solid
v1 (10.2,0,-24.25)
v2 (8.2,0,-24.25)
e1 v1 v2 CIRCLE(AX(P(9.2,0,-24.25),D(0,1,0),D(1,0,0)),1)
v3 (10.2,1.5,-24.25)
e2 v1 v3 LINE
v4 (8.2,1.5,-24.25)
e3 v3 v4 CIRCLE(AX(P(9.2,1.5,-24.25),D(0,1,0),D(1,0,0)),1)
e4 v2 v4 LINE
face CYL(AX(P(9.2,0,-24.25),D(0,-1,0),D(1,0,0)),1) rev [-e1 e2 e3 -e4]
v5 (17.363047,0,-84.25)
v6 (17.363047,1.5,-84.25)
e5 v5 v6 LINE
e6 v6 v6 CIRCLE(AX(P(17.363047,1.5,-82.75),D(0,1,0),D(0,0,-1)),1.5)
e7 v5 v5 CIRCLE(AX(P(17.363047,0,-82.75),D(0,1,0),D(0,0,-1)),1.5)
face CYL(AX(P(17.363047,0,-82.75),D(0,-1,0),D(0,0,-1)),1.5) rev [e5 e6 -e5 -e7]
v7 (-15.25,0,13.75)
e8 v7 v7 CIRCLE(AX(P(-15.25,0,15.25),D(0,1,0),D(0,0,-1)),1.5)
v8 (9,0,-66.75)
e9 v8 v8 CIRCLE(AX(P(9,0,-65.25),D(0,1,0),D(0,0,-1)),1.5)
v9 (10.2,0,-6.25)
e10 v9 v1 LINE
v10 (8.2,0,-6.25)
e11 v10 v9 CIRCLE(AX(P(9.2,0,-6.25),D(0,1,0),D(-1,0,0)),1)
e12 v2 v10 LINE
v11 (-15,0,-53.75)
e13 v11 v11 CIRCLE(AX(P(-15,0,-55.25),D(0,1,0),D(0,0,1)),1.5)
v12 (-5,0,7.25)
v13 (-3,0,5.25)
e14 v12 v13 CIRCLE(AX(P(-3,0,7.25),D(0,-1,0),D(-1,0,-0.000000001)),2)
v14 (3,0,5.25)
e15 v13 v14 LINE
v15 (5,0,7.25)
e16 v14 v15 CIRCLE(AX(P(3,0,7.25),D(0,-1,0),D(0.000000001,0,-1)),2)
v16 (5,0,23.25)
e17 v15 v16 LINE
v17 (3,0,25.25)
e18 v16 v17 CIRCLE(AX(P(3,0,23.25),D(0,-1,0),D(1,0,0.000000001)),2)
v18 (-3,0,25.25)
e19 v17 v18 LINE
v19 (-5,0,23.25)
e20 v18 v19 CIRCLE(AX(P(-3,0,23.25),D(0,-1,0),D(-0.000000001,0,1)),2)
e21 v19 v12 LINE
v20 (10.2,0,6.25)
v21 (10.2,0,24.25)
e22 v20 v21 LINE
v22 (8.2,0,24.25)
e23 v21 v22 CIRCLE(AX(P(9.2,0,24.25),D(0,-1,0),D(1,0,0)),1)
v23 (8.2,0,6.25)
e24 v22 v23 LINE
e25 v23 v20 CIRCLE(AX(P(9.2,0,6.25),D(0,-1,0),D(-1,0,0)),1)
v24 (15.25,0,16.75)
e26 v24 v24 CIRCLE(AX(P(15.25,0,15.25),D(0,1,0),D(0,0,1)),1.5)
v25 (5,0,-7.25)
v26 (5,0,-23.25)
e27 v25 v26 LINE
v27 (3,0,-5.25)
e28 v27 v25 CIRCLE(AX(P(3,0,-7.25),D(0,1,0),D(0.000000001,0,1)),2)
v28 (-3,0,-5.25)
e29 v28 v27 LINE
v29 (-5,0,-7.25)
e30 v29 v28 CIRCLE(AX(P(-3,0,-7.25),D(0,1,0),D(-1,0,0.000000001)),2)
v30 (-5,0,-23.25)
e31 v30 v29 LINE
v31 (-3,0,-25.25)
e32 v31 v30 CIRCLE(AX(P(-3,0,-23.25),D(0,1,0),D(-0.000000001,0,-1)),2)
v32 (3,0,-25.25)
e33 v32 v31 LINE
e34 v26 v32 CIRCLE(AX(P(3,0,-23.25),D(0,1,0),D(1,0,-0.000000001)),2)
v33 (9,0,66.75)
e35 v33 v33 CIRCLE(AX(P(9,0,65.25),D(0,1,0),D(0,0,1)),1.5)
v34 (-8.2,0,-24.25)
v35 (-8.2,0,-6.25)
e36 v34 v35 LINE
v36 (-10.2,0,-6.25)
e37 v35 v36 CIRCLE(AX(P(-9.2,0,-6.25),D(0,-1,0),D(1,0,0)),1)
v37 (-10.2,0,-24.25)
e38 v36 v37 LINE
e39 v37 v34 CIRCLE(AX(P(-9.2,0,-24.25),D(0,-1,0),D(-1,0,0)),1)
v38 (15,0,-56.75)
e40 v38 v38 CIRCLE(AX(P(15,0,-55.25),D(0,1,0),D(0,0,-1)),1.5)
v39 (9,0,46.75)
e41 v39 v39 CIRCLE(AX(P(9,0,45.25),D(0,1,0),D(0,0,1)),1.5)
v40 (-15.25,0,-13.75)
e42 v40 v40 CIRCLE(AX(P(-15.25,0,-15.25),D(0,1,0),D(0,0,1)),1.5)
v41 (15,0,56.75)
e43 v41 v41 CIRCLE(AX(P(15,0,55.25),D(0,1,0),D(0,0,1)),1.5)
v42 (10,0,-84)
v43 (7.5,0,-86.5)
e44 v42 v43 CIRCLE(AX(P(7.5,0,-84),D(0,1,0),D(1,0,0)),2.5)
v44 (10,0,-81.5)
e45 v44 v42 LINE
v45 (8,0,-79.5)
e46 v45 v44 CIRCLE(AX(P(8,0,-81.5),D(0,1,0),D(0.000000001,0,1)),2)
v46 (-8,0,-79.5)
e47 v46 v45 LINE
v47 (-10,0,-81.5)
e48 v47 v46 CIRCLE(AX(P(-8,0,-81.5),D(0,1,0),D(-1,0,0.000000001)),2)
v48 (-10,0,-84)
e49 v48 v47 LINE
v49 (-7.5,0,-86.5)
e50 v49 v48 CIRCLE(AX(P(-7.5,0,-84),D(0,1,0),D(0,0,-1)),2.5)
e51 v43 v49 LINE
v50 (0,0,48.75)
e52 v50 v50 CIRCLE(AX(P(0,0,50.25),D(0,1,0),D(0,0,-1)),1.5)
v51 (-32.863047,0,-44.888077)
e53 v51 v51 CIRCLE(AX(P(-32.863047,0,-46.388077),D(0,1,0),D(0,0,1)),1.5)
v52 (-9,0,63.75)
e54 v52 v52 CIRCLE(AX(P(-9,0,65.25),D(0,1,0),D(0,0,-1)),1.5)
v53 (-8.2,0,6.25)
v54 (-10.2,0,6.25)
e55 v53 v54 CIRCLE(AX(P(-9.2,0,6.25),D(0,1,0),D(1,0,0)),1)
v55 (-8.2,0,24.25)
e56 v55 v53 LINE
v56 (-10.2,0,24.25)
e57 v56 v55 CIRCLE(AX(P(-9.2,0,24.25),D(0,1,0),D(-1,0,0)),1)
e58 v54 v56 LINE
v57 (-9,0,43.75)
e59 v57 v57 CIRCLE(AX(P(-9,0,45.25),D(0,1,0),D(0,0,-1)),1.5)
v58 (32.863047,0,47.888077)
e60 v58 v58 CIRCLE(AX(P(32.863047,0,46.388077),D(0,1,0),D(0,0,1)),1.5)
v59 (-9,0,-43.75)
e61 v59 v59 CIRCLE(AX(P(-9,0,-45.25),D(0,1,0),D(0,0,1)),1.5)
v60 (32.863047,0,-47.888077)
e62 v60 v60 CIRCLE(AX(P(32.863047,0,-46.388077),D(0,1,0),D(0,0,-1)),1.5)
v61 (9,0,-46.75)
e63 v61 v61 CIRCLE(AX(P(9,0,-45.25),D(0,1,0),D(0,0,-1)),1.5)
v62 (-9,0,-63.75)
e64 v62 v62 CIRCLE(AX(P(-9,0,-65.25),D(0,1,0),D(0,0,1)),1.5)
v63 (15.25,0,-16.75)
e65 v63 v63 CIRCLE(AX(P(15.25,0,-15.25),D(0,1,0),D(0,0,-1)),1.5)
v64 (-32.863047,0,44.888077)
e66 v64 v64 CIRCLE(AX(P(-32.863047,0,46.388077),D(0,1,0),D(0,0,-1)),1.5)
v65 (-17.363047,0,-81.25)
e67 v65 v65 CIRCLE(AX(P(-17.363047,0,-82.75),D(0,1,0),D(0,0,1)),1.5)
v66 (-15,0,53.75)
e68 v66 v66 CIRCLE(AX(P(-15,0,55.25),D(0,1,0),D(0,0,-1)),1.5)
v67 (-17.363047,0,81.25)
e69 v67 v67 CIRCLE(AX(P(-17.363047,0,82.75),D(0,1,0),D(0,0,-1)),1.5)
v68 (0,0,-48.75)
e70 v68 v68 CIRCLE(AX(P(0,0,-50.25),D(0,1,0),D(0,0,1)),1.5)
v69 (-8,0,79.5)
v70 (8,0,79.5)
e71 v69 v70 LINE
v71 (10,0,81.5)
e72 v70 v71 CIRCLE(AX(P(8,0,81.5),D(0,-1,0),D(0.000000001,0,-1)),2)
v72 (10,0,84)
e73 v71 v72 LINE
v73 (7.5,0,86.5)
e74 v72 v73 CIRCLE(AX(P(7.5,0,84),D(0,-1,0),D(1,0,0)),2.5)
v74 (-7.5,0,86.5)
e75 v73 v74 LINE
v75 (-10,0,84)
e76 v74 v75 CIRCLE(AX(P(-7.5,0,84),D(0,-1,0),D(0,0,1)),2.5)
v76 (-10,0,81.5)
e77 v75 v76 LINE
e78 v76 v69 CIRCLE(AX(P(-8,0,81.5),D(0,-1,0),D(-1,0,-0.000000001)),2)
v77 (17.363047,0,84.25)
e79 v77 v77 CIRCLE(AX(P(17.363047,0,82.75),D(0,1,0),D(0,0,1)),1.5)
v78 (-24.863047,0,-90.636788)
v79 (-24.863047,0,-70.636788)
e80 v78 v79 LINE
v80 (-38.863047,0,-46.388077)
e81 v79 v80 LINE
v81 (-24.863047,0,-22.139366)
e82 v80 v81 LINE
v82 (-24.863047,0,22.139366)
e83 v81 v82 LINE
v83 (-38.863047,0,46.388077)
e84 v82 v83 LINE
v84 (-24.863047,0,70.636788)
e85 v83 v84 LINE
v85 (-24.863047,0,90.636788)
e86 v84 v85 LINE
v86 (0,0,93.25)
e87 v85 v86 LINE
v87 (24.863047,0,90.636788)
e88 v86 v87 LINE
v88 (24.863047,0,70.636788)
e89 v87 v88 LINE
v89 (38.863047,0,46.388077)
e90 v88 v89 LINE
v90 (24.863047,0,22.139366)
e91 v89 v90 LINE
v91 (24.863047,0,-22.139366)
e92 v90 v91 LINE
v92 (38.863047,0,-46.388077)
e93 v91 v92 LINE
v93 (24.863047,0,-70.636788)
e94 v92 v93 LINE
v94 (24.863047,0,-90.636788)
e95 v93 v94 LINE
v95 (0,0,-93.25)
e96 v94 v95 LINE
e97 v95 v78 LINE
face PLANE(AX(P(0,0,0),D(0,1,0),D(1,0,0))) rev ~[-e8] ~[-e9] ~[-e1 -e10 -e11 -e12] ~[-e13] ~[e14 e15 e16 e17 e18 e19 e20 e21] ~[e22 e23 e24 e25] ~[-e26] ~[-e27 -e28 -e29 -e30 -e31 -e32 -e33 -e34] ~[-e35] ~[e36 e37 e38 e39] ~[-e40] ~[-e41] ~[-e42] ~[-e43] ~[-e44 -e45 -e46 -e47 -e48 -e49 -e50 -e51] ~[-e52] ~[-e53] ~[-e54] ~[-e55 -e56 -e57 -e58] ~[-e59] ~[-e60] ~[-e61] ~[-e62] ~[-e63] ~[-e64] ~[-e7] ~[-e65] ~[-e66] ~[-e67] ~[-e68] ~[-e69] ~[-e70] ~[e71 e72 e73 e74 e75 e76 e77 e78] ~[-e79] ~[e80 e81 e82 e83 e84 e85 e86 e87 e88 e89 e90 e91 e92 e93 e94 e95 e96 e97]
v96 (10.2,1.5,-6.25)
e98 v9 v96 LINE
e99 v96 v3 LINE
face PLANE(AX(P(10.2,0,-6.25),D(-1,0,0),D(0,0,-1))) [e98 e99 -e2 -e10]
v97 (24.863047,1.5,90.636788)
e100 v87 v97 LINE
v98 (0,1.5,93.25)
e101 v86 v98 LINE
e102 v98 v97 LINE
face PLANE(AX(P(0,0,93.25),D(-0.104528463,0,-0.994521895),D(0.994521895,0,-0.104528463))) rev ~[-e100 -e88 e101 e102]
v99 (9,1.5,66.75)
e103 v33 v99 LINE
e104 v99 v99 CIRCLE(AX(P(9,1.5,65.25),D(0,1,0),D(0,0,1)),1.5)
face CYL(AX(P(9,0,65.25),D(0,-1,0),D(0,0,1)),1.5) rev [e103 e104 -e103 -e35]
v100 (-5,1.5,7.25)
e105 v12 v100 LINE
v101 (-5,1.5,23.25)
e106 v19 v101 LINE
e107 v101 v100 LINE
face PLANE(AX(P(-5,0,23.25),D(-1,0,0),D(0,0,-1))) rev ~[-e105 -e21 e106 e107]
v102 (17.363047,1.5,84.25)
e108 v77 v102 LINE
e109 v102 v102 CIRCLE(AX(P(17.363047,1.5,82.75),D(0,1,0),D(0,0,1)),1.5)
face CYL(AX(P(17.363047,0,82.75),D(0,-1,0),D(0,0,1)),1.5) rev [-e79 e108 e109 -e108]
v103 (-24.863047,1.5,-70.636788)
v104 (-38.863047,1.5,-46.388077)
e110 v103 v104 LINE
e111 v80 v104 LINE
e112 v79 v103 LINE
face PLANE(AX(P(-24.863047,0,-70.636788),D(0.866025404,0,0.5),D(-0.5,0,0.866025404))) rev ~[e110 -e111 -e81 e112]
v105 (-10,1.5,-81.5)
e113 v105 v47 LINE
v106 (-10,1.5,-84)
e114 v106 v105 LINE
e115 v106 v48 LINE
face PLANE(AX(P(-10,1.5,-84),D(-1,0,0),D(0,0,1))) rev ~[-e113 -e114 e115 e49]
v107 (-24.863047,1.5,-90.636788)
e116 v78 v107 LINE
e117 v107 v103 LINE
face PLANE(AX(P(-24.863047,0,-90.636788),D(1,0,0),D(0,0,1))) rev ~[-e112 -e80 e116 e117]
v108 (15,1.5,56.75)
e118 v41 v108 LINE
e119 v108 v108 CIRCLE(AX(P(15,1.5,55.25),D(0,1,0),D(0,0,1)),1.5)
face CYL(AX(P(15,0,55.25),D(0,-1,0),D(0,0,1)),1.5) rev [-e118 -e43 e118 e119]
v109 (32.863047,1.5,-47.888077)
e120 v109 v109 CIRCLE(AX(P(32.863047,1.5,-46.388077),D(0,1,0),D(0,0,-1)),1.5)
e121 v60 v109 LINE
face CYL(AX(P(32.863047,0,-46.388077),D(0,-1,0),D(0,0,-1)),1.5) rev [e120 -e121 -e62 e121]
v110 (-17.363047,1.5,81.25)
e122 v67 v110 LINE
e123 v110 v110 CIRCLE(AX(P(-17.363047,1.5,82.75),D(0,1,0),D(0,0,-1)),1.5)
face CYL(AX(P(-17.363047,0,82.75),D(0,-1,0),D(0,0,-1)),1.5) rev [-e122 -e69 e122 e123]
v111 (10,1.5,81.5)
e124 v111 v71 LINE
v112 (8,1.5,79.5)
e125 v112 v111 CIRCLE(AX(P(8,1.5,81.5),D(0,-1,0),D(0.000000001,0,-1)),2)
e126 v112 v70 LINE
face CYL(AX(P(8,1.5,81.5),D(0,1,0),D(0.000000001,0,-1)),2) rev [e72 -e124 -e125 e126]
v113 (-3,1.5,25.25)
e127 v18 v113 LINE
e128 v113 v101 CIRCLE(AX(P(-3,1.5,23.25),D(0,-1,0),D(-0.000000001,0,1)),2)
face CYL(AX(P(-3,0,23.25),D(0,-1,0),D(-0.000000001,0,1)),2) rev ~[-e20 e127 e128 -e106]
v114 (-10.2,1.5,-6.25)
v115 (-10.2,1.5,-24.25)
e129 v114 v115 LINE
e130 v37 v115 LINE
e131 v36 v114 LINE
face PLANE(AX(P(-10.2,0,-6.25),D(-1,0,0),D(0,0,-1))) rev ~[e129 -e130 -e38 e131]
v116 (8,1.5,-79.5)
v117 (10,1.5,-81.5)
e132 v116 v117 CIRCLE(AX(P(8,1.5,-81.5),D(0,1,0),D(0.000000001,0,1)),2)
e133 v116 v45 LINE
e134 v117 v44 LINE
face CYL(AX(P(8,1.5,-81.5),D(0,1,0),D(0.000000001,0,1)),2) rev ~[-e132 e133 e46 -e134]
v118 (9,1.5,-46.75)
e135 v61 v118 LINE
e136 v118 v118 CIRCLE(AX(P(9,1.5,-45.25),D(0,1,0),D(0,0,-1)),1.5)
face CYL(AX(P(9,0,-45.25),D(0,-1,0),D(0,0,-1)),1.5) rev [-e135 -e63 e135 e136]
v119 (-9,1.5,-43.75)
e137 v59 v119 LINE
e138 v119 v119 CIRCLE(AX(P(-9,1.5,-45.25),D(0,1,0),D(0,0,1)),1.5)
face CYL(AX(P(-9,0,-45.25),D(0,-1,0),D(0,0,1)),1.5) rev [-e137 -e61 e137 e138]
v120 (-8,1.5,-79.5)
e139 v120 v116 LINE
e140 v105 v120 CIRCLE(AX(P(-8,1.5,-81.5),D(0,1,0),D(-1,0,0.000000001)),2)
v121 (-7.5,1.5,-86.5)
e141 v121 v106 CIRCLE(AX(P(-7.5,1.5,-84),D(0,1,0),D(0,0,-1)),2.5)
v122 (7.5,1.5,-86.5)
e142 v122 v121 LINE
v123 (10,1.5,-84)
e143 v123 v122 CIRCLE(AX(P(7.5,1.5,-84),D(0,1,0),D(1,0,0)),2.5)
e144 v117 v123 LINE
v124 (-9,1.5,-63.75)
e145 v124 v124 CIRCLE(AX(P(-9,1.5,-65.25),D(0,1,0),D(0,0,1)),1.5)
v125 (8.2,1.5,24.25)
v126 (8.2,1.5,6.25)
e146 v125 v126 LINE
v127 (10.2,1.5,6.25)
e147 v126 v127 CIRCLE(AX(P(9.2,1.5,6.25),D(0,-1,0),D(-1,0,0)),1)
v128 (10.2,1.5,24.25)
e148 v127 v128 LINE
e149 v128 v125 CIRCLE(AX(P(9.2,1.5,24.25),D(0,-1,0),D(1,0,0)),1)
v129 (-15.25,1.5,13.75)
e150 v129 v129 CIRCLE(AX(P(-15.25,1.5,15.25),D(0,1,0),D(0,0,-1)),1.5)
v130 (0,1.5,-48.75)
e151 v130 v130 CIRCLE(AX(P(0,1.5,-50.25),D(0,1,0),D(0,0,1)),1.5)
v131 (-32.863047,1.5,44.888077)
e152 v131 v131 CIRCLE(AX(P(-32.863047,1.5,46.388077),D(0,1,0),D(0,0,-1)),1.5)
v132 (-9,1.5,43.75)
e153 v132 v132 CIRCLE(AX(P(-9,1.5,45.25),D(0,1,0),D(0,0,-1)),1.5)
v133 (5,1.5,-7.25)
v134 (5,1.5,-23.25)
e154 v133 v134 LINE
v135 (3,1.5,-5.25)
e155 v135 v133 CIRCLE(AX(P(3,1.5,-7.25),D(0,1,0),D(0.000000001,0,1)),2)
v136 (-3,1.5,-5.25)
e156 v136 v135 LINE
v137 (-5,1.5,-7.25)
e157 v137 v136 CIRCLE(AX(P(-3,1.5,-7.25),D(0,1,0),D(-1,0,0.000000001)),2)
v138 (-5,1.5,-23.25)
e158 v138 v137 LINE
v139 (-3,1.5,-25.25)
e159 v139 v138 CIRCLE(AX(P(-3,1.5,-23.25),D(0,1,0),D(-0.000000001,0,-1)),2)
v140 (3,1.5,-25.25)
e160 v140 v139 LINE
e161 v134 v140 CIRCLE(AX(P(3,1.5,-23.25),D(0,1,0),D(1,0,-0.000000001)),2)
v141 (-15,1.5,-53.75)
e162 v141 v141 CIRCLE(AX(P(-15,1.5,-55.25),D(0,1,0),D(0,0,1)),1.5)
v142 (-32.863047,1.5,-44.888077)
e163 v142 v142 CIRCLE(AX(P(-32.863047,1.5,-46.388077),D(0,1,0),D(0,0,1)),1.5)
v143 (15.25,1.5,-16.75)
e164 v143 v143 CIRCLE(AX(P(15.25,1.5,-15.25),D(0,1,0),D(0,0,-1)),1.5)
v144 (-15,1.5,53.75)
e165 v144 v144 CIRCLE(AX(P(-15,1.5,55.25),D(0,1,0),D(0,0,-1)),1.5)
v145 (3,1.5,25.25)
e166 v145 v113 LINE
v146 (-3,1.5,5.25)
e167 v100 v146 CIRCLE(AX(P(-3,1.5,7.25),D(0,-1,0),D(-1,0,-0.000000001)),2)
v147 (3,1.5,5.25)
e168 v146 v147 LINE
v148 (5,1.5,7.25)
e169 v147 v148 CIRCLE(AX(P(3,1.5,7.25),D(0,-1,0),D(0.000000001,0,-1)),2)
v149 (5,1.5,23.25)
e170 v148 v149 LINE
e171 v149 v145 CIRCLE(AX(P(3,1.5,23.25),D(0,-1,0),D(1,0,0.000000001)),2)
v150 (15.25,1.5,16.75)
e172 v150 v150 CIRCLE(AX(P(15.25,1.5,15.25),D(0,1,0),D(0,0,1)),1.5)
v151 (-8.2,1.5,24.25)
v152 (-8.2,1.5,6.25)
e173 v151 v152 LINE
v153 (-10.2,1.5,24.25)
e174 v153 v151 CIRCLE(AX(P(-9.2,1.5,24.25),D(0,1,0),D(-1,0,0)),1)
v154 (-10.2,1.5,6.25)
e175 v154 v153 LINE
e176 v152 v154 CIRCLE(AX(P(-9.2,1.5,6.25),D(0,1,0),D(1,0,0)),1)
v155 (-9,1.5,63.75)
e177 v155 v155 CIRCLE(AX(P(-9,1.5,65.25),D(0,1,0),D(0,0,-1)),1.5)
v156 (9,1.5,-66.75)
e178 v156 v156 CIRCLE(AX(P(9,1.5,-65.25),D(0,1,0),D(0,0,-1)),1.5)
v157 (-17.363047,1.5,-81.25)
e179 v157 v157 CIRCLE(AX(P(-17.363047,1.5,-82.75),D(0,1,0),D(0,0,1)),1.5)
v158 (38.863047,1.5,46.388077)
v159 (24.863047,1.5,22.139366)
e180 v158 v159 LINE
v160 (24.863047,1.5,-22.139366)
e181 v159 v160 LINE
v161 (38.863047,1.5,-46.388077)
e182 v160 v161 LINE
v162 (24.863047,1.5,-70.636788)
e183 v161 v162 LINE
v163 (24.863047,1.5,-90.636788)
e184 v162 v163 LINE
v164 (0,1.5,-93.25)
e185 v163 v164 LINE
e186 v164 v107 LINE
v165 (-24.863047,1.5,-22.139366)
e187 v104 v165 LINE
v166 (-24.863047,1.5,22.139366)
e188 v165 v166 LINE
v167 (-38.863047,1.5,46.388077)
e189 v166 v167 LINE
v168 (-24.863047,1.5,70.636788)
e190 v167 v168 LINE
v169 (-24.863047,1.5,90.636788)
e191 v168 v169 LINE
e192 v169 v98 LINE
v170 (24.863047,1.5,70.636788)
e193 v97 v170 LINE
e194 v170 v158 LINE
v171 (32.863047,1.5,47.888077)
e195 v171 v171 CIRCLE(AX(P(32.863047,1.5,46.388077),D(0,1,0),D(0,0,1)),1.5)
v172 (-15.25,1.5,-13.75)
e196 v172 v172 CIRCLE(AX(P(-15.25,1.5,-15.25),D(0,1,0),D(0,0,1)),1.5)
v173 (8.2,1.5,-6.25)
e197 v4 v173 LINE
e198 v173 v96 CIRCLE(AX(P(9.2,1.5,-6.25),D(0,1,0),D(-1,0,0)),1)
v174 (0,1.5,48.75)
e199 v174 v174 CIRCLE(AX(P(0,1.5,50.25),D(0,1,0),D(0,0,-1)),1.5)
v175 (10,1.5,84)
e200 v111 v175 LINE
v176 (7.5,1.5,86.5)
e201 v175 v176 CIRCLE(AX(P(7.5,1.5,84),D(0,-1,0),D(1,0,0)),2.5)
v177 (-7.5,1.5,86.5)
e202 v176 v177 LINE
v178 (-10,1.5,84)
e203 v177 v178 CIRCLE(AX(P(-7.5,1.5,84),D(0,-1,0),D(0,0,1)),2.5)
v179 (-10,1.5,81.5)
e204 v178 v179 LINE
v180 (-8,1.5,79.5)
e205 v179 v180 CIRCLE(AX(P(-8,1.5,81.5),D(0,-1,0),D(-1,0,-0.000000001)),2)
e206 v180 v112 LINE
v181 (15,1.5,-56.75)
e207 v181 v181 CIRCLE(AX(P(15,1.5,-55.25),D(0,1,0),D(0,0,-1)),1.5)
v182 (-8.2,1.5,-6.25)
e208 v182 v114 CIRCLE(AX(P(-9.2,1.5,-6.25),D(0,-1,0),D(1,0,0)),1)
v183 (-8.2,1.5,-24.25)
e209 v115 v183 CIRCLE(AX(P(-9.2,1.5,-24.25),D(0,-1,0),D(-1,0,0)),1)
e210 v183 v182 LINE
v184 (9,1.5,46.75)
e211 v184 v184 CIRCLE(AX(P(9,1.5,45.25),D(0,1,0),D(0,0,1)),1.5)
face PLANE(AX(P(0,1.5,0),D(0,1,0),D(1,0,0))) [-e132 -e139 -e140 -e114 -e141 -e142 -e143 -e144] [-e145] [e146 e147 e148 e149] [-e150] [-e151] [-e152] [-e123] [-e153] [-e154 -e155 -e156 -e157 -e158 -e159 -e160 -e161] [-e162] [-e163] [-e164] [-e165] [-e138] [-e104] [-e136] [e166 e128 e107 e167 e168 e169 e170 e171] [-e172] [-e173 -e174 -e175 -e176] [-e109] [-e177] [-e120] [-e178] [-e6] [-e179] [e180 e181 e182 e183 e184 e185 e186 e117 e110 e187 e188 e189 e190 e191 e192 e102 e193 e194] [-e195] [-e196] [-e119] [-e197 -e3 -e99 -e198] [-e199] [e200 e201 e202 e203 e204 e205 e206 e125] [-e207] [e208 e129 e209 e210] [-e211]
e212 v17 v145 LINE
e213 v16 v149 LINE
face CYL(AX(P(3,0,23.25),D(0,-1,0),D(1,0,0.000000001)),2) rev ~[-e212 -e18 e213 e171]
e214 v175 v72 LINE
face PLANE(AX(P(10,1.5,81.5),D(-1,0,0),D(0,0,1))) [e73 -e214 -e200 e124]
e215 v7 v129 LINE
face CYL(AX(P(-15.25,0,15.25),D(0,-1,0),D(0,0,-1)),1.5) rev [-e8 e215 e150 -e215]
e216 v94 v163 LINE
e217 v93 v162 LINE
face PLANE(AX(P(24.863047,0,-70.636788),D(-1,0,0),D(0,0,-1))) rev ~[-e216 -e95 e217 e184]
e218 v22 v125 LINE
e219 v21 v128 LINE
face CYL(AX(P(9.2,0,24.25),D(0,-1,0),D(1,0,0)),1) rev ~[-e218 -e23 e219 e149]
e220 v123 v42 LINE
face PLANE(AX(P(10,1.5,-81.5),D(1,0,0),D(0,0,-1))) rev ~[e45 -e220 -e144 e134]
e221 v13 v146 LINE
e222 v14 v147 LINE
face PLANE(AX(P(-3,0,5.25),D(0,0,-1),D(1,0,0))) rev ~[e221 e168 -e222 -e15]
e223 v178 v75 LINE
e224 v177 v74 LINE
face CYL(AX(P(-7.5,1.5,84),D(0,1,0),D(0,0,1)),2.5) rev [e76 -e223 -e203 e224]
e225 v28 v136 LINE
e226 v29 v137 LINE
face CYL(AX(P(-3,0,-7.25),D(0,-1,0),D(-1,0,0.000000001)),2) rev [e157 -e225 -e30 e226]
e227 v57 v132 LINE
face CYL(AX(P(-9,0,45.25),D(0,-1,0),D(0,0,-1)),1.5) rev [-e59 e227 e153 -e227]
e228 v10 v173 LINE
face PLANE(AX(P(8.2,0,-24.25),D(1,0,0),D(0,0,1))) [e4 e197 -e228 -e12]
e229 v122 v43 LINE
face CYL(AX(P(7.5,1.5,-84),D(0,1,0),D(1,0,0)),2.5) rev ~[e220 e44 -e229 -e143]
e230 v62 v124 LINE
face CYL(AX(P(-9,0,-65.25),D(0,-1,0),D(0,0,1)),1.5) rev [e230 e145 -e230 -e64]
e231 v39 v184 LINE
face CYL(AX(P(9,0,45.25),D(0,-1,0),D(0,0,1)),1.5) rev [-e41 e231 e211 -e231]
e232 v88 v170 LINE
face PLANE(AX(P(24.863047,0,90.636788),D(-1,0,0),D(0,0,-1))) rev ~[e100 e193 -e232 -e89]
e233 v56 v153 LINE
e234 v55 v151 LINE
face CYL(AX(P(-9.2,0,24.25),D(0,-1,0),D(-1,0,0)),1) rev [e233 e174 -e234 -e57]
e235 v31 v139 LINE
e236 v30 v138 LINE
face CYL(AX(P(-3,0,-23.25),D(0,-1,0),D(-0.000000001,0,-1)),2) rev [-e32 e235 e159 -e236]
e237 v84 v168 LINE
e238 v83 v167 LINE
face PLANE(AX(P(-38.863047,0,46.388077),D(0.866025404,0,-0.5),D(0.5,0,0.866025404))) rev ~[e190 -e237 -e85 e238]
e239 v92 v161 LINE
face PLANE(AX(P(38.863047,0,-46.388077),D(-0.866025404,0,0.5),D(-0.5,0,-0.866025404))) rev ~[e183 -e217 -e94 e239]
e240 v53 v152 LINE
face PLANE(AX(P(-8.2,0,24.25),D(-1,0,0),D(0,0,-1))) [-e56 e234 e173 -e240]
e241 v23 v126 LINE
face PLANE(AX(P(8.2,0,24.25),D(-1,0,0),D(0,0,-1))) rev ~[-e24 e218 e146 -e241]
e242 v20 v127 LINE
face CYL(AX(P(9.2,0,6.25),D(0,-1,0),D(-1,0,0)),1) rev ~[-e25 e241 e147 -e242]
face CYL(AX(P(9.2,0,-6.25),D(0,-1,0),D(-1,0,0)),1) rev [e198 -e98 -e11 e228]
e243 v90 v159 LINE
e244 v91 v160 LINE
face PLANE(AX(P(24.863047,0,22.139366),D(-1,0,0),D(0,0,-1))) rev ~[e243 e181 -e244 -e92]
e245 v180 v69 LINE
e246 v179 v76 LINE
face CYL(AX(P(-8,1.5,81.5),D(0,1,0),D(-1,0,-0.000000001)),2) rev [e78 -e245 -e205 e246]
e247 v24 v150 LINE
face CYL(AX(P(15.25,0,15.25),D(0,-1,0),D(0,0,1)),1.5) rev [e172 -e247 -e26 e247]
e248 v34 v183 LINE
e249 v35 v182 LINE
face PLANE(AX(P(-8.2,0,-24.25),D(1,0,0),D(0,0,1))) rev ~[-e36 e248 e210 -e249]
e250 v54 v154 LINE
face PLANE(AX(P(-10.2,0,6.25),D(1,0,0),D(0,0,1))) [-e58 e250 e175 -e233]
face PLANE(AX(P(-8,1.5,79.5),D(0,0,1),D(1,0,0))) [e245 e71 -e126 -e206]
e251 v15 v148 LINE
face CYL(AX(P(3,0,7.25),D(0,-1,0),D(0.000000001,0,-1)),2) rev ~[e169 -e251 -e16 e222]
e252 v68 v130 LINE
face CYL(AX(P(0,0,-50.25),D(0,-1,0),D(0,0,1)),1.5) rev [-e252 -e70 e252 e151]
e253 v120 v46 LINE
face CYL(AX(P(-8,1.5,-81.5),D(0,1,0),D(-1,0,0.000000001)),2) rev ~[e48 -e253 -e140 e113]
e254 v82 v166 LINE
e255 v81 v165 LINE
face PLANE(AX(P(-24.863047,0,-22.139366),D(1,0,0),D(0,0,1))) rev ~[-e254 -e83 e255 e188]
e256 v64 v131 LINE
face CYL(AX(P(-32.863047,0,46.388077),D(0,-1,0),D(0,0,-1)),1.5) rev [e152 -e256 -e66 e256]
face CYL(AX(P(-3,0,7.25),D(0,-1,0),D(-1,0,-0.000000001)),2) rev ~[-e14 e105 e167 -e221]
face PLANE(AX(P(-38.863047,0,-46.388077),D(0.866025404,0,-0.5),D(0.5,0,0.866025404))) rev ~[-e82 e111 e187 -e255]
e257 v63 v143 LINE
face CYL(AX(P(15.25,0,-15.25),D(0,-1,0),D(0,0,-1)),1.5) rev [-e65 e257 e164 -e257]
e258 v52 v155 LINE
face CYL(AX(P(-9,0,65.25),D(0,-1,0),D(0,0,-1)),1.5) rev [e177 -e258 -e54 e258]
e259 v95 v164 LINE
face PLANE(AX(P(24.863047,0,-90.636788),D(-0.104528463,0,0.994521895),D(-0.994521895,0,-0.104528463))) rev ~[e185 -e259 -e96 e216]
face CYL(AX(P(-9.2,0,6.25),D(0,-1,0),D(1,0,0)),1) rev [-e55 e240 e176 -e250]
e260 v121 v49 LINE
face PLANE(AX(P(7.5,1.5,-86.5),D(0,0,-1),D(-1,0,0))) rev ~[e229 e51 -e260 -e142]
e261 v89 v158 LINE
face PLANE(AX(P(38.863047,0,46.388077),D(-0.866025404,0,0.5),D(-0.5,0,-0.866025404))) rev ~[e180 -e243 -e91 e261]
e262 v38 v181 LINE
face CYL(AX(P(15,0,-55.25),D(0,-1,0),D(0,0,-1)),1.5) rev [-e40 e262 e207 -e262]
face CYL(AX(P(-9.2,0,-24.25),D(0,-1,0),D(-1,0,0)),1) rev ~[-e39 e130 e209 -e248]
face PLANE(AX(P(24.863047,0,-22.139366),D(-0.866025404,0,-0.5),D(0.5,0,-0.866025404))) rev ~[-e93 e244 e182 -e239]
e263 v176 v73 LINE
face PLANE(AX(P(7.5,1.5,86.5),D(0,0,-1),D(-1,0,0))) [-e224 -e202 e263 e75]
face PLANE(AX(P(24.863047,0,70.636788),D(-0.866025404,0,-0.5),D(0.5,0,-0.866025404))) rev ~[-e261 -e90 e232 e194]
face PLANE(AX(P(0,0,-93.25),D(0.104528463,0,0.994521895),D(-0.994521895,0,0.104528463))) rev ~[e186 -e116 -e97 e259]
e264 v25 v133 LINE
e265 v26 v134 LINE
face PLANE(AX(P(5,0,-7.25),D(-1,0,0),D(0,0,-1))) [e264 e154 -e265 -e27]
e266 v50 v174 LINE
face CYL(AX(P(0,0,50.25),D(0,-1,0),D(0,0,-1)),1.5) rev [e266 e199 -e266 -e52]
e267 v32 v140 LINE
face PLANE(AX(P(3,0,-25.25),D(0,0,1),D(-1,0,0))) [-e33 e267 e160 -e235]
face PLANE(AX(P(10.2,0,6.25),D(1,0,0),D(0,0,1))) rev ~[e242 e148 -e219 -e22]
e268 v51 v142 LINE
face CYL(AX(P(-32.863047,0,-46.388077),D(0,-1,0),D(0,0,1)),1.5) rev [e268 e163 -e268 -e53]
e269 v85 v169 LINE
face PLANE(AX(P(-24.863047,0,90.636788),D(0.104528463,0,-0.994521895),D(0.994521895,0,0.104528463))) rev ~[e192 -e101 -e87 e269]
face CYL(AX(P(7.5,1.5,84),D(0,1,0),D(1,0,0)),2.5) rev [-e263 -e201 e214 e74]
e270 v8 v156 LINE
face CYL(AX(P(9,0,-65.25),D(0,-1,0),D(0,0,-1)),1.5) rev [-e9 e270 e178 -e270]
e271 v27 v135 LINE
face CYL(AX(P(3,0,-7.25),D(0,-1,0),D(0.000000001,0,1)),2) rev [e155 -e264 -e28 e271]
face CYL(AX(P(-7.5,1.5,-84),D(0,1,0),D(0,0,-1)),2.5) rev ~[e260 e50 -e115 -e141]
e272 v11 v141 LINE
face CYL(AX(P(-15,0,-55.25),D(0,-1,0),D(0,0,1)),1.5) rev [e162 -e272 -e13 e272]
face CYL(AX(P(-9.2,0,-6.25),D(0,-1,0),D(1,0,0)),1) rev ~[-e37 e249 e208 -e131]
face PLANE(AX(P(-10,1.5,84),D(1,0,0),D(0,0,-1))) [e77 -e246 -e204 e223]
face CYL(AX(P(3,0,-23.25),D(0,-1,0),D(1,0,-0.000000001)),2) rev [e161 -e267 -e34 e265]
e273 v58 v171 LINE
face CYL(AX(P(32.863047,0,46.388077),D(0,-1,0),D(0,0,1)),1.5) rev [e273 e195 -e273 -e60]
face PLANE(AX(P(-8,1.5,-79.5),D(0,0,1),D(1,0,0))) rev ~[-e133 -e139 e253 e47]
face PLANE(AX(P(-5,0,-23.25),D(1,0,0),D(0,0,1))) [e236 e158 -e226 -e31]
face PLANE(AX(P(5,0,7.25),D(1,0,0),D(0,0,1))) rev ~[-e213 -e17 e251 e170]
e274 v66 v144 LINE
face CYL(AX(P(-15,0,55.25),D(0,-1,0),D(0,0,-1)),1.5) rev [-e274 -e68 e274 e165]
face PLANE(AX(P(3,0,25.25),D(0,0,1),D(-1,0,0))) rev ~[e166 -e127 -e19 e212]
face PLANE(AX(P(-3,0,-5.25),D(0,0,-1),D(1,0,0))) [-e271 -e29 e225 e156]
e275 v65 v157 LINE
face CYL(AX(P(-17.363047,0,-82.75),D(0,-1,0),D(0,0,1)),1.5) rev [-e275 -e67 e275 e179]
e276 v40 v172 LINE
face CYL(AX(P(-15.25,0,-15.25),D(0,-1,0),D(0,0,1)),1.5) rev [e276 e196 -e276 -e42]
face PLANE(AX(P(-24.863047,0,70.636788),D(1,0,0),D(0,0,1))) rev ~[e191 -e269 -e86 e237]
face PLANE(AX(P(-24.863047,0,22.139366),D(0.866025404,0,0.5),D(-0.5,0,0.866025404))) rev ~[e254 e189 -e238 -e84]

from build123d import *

# Parameters (mm, degrees)
SKETCH1_R           = 1.5
BOSS_EXTRUDE1_DEPTH = 1.5
CUT_EXTRUDE1_DEPTH  = 1.5


with BuildPart() as part:
    # Sketch1 → Boss-Extrude1 (new body)
    with BuildSketch(Plane(origin=(0, 0, 0), x_dir=(1, 0, 0), z_dir=(0, 1, 0))):
        Polygon((0, 93.25), (-24.863047384, 90.636788418), (-24.863047384, 70.636788418), (-38.863047384, 46.388077112), (-24.863047384, 22.139365806), (-24.863047384, -22.139365806), (-38.863047384, -46.388077112), (-24.863047384, -70.636788418), (-24.863047384, -90.636788418), (0, -93.25), (24.863047384, -90.636788418), (24.863047384, -70.636788418), (38.863047384, -46.388077112), (24.863047384, -22.139365806), (24.863047384, 22.139365806), (38.863047384, 46.388077112), (24.863047384, 70.636788418), (24.863047384, 90.636788418), align=None)
        with Locations(Location((0, 50.25, 0), (0, 0, 270))):
            Circle(SKETCH1_R, mode=Mode.SUBTRACT)
        with Locations(Location((-9, 45.25, 0), (0, 0, 270))):
            Circle(SKETCH1_R, mode=Mode.SUBTRACT)
        with Locations(Location((-15, 55.25, 0), (0, 0, 270))):
            Circle(SKETCH1_R, mode=Mode.SUBTRACT)
        with Locations(Location((-9, 65.25, 0), (0, 0, 270))):
            Circle(SKETCH1_R, mode=Mode.SUBTRACT)
        with Locations(Location((9, 45.25, 0), (0, 0, 90))):
            Circle(SKETCH1_R, mode=Mode.SUBTRACT)
        with Locations(Location((9, 65.25, 0), (0, 0, 90))):
            Circle(SKETCH1_R, mode=Mode.SUBTRACT)
        with Locations(Location((15, 55.25, 0), (0, 0, 90))):
            Circle(SKETCH1_R, mode=Mode.SUBTRACT)
        with Locations(Location((-15.25, 15.25, 0), (0, 0, 270))):
            Circle(SKETCH1_R, mode=Mode.SUBTRACT)
        with Locations(Location((15.25, 15.25, 0), (0, 0, 90))):
            Circle(SKETCH1_R, mode=Mode.SUBTRACT)
        with Locations(Location((-32.863047384, 46.388077112, 0), (0, 0, 270))):
            Circle(SKETCH1_R, mode=Mode.SUBTRACT)
        with Locations(Location((-17.363047384, 82.75, 0), (0, 0, 270))):
            Circle(SKETCH1_R, mode=Mode.SUBTRACT)
        with Locations(Location((32.863047384, 46.388077112, 0), (0, 0, 90))):
            Circle(SKETCH1_R, mode=Mode.SUBTRACT)
        with Locations(Location((17.363047384, 82.75, 0), (0, 0, 90))):
            Circle(SKETCH1_R, mode=Mode.SUBTRACT)
        with Locations(Location((-15.25, -15.25, 0), (0, 0, 90))):
            Circle(SKETCH1_R, mode=Mode.SUBTRACT)
        with Locations(Location((15.25, -15.25, 0), (0, 0, 270))):
            Circle(SKETCH1_R, mode=Mode.SUBTRACT)
        with Locations(Location((32.863047384, -46.388077112, 0), (0, 0, 270))):
            Circle(SKETCH1_R, mode=Mode.SUBTRACT)
        with Locations(Location((9, -45.25, 0), (0, 0, 270))):
            Circle(SKETCH1_R, mode=Mode.SUBTRACT)
        with Locations(Location((-32.863047384, -46.388077112, 0), (0, 0, 90))):
            Circle(SKETCH1_R, mode=Mode.SUBTRACT)
        with Locations(Location((-9, -45.25, 0), (0, 0, 90))):
            Circle(SKETCH1_R, mode=Mode.SUBTRACT)
        with Locations(Location((15, -55.25, 0), (0, 0, 270))):
            Circle(SKETCH1_R, mode=Mode.SUBTRACT)
        with Locations(Location((0, -50.25, 0), (0, 0, 90))):
            Circle(SKETCH1_R, mode=Mode.SUBTRACT)
        with Locations(Location((-15, -55.25, 0), (0, 0, 90))):
            Circle(SKETCH1_R, mode=Mode.SUBTRACT)
        with Locations(Location((-9, -65.25, 0), (0, 0, 90))):
            Circle(SKETCH1_R, mode=Mode.SUBTRACT)
        with Locations(Location((9, -65.25, 0), (0, 0, 270))):
            Circle(SKETCH1_R, mode=Mode.SUBTRACT)
        with Locations(Location((17.363047384, -82.75, 0), (0, 0, 270))):
            Circle(SKETCH1_R, mode=Mode.SUBTRACT)
        with Locations(Location((-17.363047384, -82.75, 0), (0, 0, 90))):
            Circle(SKETCH1_R, mode=Mode.SUBTRACT)
        with BuildLine():
            Line((-3, 5.25), (3, 5.25))
            ThreePointArc((3, 5.25), (4.414213562, 5.835786438), (5, 7.25))
            Line((5, 7.25), (5, 23.25))
            ThreePointArc((5, 23.25), (4.414213562, 24.664213562), (3, 25.25))
            Line((3, 25.25), (-3, 25.25))
            ThreePointArc((-3, 25.25), (-4.414213562, 24.664213562), (-5, 23.25))
            Line((-5, 23.25), (-5, 7.25))
            ThreePointArc((-5, 7.25), (-4.414213562, 5.835786438), (-3, 5.25))
        make_face(mode=Mode.SUBTRACT)
        with BuildLine():
            Line((-10.2, 6.25), (-10.2, 24.25))
            ThreePointArc((-10.2, 24.25), (-9.2, 25.25), (-8.2, 24.25))
            Line((-8.2, 24.25), (-8.2, 6.25))
            ThreePointArc((-8.2, 6.25), (-9.2, 5.25), (-10.2, 6.25))
        make_face(mode=Mode.SUBTRACT)
        with BuildLine():
            Line((10.2, 6.25), (10.2, 24.25))
            ThreePointArc((10.2, 24.25), (9.2, 25.25), (8.2, 24.25))
            Line((8.2, 24.25), (8.2, 6.25))
            ThreePointArc((8.2, 6.25), (9.2, 5.25), (10.2, 6.25))
        make_face(mode=Mode.SUBTRACT)
        with BuildLine():
            Line((5, -7.25), (5, -23.25))
            ThreePointArc((5, -23.25), (4.414213562, -24.664213562), (3, -25.25))
            Line((3, -25.25), (-3, -25.25))
            ThreePointArc((-3, -25.25), (-4.414213562, -24.664213562), (-5, -23.25))
            Line((-5, -23.25), (-5, -7.25))
            ThreePointArc((-5, -7.25), (-4.414213562, -5.835786438), (-3, -5.25))
            Line((-3, -5.25), (3, -5.25))
            ThreePointArc((3, -5.25), (4.414213562, -5.835786438), (5, -7.25))
        make_face(mode=Mode.SUBTRACT)
        with BuildLine():
            Line((10.2, -6.25), (10.2, -24.25))
            ThreePointArc((10.2, -24.25), (9.2, -25.25), (8.2, -24.25))
            Line((8.2, -24.25), (8.2, -6.25))
            ThreePointArc((8.2, -6.25), (9.2, -5.25), (10.2, -6.25))
        make_face(mode=Mode.SUBTRACT)
        with BuildLine():
            Line((-10.2, -6.25), (-10.2, -24.25))
            ThreePointArc((-10.2, -24.25), (-9.2, -25.25), (-8.2, -24.25))
            Line((-8.2, -24.25), (-8.2, -6.25))
            ThreePointArc((-8.2, -6.25), (-9.2, -5.25), (-10.2, -6.25))
        make_face(mode=Mode.SUBTRACT)
    extrude(amount=BOSS_EXTRUDE1_DEPTH)

    # Sketch2 → Cut-Extrude1 (cut)
    with BuildSketch(Plane(origin=(0, 1.5, 0), x_dir=(1, 0, 0), z_dir=(0, 1, 0))):
        with BuildLine():
            Line((-8, 79.5), (8, 79.5))
            ThreePointArc((8, 79.5), (9.414213562, 80.085786438), (10, 81.5))
            Line((10, 81.5), (10, 84))
            ThreePointArc((10, 84), (9.267766953, 85.767766953), (7.5, 86.5))
            Line((7.5, 86.5), (-7.5, 86.5))
            ThreePointArc((-7.5, 86.5), (-9.267766953, 85.767766953), (-10, 84))
            Line((-10, 84), (-10, 81.5))
            ThreePointArc((-10, 81.5), (-9.414213562, 80.085786438), (-8, 79.5))
        make_face()
        with BuildLine():
            Line((10, -81.5), (10, -84))
            ThreePointArc((10, -84), (9.267766953, -85.767766953), (7.5, -86.5))
            Line((7.5, -86.5), (-7.5, -86.5))
            ThreePointArc((-7.5, -86.5), (-9.267766953, -85.767766953), (-10, -84))
            Line((-10, -84), (-10, -81.5))
            ThreePointArc((-10, -81.5), (-9.414213562, -80.085786438), (-8, -79.5))
            Line((-8, -79.5), (8, -79.5))
            ThreePointArc((8, -79.5), (9.414213562, -80.085786438), (10, -81.5))
        make_face()
    extrude(amount=-CUT_EXTRUDE1_DEPTH, mode=Mode.SUBTRACT)


solid = part.part
